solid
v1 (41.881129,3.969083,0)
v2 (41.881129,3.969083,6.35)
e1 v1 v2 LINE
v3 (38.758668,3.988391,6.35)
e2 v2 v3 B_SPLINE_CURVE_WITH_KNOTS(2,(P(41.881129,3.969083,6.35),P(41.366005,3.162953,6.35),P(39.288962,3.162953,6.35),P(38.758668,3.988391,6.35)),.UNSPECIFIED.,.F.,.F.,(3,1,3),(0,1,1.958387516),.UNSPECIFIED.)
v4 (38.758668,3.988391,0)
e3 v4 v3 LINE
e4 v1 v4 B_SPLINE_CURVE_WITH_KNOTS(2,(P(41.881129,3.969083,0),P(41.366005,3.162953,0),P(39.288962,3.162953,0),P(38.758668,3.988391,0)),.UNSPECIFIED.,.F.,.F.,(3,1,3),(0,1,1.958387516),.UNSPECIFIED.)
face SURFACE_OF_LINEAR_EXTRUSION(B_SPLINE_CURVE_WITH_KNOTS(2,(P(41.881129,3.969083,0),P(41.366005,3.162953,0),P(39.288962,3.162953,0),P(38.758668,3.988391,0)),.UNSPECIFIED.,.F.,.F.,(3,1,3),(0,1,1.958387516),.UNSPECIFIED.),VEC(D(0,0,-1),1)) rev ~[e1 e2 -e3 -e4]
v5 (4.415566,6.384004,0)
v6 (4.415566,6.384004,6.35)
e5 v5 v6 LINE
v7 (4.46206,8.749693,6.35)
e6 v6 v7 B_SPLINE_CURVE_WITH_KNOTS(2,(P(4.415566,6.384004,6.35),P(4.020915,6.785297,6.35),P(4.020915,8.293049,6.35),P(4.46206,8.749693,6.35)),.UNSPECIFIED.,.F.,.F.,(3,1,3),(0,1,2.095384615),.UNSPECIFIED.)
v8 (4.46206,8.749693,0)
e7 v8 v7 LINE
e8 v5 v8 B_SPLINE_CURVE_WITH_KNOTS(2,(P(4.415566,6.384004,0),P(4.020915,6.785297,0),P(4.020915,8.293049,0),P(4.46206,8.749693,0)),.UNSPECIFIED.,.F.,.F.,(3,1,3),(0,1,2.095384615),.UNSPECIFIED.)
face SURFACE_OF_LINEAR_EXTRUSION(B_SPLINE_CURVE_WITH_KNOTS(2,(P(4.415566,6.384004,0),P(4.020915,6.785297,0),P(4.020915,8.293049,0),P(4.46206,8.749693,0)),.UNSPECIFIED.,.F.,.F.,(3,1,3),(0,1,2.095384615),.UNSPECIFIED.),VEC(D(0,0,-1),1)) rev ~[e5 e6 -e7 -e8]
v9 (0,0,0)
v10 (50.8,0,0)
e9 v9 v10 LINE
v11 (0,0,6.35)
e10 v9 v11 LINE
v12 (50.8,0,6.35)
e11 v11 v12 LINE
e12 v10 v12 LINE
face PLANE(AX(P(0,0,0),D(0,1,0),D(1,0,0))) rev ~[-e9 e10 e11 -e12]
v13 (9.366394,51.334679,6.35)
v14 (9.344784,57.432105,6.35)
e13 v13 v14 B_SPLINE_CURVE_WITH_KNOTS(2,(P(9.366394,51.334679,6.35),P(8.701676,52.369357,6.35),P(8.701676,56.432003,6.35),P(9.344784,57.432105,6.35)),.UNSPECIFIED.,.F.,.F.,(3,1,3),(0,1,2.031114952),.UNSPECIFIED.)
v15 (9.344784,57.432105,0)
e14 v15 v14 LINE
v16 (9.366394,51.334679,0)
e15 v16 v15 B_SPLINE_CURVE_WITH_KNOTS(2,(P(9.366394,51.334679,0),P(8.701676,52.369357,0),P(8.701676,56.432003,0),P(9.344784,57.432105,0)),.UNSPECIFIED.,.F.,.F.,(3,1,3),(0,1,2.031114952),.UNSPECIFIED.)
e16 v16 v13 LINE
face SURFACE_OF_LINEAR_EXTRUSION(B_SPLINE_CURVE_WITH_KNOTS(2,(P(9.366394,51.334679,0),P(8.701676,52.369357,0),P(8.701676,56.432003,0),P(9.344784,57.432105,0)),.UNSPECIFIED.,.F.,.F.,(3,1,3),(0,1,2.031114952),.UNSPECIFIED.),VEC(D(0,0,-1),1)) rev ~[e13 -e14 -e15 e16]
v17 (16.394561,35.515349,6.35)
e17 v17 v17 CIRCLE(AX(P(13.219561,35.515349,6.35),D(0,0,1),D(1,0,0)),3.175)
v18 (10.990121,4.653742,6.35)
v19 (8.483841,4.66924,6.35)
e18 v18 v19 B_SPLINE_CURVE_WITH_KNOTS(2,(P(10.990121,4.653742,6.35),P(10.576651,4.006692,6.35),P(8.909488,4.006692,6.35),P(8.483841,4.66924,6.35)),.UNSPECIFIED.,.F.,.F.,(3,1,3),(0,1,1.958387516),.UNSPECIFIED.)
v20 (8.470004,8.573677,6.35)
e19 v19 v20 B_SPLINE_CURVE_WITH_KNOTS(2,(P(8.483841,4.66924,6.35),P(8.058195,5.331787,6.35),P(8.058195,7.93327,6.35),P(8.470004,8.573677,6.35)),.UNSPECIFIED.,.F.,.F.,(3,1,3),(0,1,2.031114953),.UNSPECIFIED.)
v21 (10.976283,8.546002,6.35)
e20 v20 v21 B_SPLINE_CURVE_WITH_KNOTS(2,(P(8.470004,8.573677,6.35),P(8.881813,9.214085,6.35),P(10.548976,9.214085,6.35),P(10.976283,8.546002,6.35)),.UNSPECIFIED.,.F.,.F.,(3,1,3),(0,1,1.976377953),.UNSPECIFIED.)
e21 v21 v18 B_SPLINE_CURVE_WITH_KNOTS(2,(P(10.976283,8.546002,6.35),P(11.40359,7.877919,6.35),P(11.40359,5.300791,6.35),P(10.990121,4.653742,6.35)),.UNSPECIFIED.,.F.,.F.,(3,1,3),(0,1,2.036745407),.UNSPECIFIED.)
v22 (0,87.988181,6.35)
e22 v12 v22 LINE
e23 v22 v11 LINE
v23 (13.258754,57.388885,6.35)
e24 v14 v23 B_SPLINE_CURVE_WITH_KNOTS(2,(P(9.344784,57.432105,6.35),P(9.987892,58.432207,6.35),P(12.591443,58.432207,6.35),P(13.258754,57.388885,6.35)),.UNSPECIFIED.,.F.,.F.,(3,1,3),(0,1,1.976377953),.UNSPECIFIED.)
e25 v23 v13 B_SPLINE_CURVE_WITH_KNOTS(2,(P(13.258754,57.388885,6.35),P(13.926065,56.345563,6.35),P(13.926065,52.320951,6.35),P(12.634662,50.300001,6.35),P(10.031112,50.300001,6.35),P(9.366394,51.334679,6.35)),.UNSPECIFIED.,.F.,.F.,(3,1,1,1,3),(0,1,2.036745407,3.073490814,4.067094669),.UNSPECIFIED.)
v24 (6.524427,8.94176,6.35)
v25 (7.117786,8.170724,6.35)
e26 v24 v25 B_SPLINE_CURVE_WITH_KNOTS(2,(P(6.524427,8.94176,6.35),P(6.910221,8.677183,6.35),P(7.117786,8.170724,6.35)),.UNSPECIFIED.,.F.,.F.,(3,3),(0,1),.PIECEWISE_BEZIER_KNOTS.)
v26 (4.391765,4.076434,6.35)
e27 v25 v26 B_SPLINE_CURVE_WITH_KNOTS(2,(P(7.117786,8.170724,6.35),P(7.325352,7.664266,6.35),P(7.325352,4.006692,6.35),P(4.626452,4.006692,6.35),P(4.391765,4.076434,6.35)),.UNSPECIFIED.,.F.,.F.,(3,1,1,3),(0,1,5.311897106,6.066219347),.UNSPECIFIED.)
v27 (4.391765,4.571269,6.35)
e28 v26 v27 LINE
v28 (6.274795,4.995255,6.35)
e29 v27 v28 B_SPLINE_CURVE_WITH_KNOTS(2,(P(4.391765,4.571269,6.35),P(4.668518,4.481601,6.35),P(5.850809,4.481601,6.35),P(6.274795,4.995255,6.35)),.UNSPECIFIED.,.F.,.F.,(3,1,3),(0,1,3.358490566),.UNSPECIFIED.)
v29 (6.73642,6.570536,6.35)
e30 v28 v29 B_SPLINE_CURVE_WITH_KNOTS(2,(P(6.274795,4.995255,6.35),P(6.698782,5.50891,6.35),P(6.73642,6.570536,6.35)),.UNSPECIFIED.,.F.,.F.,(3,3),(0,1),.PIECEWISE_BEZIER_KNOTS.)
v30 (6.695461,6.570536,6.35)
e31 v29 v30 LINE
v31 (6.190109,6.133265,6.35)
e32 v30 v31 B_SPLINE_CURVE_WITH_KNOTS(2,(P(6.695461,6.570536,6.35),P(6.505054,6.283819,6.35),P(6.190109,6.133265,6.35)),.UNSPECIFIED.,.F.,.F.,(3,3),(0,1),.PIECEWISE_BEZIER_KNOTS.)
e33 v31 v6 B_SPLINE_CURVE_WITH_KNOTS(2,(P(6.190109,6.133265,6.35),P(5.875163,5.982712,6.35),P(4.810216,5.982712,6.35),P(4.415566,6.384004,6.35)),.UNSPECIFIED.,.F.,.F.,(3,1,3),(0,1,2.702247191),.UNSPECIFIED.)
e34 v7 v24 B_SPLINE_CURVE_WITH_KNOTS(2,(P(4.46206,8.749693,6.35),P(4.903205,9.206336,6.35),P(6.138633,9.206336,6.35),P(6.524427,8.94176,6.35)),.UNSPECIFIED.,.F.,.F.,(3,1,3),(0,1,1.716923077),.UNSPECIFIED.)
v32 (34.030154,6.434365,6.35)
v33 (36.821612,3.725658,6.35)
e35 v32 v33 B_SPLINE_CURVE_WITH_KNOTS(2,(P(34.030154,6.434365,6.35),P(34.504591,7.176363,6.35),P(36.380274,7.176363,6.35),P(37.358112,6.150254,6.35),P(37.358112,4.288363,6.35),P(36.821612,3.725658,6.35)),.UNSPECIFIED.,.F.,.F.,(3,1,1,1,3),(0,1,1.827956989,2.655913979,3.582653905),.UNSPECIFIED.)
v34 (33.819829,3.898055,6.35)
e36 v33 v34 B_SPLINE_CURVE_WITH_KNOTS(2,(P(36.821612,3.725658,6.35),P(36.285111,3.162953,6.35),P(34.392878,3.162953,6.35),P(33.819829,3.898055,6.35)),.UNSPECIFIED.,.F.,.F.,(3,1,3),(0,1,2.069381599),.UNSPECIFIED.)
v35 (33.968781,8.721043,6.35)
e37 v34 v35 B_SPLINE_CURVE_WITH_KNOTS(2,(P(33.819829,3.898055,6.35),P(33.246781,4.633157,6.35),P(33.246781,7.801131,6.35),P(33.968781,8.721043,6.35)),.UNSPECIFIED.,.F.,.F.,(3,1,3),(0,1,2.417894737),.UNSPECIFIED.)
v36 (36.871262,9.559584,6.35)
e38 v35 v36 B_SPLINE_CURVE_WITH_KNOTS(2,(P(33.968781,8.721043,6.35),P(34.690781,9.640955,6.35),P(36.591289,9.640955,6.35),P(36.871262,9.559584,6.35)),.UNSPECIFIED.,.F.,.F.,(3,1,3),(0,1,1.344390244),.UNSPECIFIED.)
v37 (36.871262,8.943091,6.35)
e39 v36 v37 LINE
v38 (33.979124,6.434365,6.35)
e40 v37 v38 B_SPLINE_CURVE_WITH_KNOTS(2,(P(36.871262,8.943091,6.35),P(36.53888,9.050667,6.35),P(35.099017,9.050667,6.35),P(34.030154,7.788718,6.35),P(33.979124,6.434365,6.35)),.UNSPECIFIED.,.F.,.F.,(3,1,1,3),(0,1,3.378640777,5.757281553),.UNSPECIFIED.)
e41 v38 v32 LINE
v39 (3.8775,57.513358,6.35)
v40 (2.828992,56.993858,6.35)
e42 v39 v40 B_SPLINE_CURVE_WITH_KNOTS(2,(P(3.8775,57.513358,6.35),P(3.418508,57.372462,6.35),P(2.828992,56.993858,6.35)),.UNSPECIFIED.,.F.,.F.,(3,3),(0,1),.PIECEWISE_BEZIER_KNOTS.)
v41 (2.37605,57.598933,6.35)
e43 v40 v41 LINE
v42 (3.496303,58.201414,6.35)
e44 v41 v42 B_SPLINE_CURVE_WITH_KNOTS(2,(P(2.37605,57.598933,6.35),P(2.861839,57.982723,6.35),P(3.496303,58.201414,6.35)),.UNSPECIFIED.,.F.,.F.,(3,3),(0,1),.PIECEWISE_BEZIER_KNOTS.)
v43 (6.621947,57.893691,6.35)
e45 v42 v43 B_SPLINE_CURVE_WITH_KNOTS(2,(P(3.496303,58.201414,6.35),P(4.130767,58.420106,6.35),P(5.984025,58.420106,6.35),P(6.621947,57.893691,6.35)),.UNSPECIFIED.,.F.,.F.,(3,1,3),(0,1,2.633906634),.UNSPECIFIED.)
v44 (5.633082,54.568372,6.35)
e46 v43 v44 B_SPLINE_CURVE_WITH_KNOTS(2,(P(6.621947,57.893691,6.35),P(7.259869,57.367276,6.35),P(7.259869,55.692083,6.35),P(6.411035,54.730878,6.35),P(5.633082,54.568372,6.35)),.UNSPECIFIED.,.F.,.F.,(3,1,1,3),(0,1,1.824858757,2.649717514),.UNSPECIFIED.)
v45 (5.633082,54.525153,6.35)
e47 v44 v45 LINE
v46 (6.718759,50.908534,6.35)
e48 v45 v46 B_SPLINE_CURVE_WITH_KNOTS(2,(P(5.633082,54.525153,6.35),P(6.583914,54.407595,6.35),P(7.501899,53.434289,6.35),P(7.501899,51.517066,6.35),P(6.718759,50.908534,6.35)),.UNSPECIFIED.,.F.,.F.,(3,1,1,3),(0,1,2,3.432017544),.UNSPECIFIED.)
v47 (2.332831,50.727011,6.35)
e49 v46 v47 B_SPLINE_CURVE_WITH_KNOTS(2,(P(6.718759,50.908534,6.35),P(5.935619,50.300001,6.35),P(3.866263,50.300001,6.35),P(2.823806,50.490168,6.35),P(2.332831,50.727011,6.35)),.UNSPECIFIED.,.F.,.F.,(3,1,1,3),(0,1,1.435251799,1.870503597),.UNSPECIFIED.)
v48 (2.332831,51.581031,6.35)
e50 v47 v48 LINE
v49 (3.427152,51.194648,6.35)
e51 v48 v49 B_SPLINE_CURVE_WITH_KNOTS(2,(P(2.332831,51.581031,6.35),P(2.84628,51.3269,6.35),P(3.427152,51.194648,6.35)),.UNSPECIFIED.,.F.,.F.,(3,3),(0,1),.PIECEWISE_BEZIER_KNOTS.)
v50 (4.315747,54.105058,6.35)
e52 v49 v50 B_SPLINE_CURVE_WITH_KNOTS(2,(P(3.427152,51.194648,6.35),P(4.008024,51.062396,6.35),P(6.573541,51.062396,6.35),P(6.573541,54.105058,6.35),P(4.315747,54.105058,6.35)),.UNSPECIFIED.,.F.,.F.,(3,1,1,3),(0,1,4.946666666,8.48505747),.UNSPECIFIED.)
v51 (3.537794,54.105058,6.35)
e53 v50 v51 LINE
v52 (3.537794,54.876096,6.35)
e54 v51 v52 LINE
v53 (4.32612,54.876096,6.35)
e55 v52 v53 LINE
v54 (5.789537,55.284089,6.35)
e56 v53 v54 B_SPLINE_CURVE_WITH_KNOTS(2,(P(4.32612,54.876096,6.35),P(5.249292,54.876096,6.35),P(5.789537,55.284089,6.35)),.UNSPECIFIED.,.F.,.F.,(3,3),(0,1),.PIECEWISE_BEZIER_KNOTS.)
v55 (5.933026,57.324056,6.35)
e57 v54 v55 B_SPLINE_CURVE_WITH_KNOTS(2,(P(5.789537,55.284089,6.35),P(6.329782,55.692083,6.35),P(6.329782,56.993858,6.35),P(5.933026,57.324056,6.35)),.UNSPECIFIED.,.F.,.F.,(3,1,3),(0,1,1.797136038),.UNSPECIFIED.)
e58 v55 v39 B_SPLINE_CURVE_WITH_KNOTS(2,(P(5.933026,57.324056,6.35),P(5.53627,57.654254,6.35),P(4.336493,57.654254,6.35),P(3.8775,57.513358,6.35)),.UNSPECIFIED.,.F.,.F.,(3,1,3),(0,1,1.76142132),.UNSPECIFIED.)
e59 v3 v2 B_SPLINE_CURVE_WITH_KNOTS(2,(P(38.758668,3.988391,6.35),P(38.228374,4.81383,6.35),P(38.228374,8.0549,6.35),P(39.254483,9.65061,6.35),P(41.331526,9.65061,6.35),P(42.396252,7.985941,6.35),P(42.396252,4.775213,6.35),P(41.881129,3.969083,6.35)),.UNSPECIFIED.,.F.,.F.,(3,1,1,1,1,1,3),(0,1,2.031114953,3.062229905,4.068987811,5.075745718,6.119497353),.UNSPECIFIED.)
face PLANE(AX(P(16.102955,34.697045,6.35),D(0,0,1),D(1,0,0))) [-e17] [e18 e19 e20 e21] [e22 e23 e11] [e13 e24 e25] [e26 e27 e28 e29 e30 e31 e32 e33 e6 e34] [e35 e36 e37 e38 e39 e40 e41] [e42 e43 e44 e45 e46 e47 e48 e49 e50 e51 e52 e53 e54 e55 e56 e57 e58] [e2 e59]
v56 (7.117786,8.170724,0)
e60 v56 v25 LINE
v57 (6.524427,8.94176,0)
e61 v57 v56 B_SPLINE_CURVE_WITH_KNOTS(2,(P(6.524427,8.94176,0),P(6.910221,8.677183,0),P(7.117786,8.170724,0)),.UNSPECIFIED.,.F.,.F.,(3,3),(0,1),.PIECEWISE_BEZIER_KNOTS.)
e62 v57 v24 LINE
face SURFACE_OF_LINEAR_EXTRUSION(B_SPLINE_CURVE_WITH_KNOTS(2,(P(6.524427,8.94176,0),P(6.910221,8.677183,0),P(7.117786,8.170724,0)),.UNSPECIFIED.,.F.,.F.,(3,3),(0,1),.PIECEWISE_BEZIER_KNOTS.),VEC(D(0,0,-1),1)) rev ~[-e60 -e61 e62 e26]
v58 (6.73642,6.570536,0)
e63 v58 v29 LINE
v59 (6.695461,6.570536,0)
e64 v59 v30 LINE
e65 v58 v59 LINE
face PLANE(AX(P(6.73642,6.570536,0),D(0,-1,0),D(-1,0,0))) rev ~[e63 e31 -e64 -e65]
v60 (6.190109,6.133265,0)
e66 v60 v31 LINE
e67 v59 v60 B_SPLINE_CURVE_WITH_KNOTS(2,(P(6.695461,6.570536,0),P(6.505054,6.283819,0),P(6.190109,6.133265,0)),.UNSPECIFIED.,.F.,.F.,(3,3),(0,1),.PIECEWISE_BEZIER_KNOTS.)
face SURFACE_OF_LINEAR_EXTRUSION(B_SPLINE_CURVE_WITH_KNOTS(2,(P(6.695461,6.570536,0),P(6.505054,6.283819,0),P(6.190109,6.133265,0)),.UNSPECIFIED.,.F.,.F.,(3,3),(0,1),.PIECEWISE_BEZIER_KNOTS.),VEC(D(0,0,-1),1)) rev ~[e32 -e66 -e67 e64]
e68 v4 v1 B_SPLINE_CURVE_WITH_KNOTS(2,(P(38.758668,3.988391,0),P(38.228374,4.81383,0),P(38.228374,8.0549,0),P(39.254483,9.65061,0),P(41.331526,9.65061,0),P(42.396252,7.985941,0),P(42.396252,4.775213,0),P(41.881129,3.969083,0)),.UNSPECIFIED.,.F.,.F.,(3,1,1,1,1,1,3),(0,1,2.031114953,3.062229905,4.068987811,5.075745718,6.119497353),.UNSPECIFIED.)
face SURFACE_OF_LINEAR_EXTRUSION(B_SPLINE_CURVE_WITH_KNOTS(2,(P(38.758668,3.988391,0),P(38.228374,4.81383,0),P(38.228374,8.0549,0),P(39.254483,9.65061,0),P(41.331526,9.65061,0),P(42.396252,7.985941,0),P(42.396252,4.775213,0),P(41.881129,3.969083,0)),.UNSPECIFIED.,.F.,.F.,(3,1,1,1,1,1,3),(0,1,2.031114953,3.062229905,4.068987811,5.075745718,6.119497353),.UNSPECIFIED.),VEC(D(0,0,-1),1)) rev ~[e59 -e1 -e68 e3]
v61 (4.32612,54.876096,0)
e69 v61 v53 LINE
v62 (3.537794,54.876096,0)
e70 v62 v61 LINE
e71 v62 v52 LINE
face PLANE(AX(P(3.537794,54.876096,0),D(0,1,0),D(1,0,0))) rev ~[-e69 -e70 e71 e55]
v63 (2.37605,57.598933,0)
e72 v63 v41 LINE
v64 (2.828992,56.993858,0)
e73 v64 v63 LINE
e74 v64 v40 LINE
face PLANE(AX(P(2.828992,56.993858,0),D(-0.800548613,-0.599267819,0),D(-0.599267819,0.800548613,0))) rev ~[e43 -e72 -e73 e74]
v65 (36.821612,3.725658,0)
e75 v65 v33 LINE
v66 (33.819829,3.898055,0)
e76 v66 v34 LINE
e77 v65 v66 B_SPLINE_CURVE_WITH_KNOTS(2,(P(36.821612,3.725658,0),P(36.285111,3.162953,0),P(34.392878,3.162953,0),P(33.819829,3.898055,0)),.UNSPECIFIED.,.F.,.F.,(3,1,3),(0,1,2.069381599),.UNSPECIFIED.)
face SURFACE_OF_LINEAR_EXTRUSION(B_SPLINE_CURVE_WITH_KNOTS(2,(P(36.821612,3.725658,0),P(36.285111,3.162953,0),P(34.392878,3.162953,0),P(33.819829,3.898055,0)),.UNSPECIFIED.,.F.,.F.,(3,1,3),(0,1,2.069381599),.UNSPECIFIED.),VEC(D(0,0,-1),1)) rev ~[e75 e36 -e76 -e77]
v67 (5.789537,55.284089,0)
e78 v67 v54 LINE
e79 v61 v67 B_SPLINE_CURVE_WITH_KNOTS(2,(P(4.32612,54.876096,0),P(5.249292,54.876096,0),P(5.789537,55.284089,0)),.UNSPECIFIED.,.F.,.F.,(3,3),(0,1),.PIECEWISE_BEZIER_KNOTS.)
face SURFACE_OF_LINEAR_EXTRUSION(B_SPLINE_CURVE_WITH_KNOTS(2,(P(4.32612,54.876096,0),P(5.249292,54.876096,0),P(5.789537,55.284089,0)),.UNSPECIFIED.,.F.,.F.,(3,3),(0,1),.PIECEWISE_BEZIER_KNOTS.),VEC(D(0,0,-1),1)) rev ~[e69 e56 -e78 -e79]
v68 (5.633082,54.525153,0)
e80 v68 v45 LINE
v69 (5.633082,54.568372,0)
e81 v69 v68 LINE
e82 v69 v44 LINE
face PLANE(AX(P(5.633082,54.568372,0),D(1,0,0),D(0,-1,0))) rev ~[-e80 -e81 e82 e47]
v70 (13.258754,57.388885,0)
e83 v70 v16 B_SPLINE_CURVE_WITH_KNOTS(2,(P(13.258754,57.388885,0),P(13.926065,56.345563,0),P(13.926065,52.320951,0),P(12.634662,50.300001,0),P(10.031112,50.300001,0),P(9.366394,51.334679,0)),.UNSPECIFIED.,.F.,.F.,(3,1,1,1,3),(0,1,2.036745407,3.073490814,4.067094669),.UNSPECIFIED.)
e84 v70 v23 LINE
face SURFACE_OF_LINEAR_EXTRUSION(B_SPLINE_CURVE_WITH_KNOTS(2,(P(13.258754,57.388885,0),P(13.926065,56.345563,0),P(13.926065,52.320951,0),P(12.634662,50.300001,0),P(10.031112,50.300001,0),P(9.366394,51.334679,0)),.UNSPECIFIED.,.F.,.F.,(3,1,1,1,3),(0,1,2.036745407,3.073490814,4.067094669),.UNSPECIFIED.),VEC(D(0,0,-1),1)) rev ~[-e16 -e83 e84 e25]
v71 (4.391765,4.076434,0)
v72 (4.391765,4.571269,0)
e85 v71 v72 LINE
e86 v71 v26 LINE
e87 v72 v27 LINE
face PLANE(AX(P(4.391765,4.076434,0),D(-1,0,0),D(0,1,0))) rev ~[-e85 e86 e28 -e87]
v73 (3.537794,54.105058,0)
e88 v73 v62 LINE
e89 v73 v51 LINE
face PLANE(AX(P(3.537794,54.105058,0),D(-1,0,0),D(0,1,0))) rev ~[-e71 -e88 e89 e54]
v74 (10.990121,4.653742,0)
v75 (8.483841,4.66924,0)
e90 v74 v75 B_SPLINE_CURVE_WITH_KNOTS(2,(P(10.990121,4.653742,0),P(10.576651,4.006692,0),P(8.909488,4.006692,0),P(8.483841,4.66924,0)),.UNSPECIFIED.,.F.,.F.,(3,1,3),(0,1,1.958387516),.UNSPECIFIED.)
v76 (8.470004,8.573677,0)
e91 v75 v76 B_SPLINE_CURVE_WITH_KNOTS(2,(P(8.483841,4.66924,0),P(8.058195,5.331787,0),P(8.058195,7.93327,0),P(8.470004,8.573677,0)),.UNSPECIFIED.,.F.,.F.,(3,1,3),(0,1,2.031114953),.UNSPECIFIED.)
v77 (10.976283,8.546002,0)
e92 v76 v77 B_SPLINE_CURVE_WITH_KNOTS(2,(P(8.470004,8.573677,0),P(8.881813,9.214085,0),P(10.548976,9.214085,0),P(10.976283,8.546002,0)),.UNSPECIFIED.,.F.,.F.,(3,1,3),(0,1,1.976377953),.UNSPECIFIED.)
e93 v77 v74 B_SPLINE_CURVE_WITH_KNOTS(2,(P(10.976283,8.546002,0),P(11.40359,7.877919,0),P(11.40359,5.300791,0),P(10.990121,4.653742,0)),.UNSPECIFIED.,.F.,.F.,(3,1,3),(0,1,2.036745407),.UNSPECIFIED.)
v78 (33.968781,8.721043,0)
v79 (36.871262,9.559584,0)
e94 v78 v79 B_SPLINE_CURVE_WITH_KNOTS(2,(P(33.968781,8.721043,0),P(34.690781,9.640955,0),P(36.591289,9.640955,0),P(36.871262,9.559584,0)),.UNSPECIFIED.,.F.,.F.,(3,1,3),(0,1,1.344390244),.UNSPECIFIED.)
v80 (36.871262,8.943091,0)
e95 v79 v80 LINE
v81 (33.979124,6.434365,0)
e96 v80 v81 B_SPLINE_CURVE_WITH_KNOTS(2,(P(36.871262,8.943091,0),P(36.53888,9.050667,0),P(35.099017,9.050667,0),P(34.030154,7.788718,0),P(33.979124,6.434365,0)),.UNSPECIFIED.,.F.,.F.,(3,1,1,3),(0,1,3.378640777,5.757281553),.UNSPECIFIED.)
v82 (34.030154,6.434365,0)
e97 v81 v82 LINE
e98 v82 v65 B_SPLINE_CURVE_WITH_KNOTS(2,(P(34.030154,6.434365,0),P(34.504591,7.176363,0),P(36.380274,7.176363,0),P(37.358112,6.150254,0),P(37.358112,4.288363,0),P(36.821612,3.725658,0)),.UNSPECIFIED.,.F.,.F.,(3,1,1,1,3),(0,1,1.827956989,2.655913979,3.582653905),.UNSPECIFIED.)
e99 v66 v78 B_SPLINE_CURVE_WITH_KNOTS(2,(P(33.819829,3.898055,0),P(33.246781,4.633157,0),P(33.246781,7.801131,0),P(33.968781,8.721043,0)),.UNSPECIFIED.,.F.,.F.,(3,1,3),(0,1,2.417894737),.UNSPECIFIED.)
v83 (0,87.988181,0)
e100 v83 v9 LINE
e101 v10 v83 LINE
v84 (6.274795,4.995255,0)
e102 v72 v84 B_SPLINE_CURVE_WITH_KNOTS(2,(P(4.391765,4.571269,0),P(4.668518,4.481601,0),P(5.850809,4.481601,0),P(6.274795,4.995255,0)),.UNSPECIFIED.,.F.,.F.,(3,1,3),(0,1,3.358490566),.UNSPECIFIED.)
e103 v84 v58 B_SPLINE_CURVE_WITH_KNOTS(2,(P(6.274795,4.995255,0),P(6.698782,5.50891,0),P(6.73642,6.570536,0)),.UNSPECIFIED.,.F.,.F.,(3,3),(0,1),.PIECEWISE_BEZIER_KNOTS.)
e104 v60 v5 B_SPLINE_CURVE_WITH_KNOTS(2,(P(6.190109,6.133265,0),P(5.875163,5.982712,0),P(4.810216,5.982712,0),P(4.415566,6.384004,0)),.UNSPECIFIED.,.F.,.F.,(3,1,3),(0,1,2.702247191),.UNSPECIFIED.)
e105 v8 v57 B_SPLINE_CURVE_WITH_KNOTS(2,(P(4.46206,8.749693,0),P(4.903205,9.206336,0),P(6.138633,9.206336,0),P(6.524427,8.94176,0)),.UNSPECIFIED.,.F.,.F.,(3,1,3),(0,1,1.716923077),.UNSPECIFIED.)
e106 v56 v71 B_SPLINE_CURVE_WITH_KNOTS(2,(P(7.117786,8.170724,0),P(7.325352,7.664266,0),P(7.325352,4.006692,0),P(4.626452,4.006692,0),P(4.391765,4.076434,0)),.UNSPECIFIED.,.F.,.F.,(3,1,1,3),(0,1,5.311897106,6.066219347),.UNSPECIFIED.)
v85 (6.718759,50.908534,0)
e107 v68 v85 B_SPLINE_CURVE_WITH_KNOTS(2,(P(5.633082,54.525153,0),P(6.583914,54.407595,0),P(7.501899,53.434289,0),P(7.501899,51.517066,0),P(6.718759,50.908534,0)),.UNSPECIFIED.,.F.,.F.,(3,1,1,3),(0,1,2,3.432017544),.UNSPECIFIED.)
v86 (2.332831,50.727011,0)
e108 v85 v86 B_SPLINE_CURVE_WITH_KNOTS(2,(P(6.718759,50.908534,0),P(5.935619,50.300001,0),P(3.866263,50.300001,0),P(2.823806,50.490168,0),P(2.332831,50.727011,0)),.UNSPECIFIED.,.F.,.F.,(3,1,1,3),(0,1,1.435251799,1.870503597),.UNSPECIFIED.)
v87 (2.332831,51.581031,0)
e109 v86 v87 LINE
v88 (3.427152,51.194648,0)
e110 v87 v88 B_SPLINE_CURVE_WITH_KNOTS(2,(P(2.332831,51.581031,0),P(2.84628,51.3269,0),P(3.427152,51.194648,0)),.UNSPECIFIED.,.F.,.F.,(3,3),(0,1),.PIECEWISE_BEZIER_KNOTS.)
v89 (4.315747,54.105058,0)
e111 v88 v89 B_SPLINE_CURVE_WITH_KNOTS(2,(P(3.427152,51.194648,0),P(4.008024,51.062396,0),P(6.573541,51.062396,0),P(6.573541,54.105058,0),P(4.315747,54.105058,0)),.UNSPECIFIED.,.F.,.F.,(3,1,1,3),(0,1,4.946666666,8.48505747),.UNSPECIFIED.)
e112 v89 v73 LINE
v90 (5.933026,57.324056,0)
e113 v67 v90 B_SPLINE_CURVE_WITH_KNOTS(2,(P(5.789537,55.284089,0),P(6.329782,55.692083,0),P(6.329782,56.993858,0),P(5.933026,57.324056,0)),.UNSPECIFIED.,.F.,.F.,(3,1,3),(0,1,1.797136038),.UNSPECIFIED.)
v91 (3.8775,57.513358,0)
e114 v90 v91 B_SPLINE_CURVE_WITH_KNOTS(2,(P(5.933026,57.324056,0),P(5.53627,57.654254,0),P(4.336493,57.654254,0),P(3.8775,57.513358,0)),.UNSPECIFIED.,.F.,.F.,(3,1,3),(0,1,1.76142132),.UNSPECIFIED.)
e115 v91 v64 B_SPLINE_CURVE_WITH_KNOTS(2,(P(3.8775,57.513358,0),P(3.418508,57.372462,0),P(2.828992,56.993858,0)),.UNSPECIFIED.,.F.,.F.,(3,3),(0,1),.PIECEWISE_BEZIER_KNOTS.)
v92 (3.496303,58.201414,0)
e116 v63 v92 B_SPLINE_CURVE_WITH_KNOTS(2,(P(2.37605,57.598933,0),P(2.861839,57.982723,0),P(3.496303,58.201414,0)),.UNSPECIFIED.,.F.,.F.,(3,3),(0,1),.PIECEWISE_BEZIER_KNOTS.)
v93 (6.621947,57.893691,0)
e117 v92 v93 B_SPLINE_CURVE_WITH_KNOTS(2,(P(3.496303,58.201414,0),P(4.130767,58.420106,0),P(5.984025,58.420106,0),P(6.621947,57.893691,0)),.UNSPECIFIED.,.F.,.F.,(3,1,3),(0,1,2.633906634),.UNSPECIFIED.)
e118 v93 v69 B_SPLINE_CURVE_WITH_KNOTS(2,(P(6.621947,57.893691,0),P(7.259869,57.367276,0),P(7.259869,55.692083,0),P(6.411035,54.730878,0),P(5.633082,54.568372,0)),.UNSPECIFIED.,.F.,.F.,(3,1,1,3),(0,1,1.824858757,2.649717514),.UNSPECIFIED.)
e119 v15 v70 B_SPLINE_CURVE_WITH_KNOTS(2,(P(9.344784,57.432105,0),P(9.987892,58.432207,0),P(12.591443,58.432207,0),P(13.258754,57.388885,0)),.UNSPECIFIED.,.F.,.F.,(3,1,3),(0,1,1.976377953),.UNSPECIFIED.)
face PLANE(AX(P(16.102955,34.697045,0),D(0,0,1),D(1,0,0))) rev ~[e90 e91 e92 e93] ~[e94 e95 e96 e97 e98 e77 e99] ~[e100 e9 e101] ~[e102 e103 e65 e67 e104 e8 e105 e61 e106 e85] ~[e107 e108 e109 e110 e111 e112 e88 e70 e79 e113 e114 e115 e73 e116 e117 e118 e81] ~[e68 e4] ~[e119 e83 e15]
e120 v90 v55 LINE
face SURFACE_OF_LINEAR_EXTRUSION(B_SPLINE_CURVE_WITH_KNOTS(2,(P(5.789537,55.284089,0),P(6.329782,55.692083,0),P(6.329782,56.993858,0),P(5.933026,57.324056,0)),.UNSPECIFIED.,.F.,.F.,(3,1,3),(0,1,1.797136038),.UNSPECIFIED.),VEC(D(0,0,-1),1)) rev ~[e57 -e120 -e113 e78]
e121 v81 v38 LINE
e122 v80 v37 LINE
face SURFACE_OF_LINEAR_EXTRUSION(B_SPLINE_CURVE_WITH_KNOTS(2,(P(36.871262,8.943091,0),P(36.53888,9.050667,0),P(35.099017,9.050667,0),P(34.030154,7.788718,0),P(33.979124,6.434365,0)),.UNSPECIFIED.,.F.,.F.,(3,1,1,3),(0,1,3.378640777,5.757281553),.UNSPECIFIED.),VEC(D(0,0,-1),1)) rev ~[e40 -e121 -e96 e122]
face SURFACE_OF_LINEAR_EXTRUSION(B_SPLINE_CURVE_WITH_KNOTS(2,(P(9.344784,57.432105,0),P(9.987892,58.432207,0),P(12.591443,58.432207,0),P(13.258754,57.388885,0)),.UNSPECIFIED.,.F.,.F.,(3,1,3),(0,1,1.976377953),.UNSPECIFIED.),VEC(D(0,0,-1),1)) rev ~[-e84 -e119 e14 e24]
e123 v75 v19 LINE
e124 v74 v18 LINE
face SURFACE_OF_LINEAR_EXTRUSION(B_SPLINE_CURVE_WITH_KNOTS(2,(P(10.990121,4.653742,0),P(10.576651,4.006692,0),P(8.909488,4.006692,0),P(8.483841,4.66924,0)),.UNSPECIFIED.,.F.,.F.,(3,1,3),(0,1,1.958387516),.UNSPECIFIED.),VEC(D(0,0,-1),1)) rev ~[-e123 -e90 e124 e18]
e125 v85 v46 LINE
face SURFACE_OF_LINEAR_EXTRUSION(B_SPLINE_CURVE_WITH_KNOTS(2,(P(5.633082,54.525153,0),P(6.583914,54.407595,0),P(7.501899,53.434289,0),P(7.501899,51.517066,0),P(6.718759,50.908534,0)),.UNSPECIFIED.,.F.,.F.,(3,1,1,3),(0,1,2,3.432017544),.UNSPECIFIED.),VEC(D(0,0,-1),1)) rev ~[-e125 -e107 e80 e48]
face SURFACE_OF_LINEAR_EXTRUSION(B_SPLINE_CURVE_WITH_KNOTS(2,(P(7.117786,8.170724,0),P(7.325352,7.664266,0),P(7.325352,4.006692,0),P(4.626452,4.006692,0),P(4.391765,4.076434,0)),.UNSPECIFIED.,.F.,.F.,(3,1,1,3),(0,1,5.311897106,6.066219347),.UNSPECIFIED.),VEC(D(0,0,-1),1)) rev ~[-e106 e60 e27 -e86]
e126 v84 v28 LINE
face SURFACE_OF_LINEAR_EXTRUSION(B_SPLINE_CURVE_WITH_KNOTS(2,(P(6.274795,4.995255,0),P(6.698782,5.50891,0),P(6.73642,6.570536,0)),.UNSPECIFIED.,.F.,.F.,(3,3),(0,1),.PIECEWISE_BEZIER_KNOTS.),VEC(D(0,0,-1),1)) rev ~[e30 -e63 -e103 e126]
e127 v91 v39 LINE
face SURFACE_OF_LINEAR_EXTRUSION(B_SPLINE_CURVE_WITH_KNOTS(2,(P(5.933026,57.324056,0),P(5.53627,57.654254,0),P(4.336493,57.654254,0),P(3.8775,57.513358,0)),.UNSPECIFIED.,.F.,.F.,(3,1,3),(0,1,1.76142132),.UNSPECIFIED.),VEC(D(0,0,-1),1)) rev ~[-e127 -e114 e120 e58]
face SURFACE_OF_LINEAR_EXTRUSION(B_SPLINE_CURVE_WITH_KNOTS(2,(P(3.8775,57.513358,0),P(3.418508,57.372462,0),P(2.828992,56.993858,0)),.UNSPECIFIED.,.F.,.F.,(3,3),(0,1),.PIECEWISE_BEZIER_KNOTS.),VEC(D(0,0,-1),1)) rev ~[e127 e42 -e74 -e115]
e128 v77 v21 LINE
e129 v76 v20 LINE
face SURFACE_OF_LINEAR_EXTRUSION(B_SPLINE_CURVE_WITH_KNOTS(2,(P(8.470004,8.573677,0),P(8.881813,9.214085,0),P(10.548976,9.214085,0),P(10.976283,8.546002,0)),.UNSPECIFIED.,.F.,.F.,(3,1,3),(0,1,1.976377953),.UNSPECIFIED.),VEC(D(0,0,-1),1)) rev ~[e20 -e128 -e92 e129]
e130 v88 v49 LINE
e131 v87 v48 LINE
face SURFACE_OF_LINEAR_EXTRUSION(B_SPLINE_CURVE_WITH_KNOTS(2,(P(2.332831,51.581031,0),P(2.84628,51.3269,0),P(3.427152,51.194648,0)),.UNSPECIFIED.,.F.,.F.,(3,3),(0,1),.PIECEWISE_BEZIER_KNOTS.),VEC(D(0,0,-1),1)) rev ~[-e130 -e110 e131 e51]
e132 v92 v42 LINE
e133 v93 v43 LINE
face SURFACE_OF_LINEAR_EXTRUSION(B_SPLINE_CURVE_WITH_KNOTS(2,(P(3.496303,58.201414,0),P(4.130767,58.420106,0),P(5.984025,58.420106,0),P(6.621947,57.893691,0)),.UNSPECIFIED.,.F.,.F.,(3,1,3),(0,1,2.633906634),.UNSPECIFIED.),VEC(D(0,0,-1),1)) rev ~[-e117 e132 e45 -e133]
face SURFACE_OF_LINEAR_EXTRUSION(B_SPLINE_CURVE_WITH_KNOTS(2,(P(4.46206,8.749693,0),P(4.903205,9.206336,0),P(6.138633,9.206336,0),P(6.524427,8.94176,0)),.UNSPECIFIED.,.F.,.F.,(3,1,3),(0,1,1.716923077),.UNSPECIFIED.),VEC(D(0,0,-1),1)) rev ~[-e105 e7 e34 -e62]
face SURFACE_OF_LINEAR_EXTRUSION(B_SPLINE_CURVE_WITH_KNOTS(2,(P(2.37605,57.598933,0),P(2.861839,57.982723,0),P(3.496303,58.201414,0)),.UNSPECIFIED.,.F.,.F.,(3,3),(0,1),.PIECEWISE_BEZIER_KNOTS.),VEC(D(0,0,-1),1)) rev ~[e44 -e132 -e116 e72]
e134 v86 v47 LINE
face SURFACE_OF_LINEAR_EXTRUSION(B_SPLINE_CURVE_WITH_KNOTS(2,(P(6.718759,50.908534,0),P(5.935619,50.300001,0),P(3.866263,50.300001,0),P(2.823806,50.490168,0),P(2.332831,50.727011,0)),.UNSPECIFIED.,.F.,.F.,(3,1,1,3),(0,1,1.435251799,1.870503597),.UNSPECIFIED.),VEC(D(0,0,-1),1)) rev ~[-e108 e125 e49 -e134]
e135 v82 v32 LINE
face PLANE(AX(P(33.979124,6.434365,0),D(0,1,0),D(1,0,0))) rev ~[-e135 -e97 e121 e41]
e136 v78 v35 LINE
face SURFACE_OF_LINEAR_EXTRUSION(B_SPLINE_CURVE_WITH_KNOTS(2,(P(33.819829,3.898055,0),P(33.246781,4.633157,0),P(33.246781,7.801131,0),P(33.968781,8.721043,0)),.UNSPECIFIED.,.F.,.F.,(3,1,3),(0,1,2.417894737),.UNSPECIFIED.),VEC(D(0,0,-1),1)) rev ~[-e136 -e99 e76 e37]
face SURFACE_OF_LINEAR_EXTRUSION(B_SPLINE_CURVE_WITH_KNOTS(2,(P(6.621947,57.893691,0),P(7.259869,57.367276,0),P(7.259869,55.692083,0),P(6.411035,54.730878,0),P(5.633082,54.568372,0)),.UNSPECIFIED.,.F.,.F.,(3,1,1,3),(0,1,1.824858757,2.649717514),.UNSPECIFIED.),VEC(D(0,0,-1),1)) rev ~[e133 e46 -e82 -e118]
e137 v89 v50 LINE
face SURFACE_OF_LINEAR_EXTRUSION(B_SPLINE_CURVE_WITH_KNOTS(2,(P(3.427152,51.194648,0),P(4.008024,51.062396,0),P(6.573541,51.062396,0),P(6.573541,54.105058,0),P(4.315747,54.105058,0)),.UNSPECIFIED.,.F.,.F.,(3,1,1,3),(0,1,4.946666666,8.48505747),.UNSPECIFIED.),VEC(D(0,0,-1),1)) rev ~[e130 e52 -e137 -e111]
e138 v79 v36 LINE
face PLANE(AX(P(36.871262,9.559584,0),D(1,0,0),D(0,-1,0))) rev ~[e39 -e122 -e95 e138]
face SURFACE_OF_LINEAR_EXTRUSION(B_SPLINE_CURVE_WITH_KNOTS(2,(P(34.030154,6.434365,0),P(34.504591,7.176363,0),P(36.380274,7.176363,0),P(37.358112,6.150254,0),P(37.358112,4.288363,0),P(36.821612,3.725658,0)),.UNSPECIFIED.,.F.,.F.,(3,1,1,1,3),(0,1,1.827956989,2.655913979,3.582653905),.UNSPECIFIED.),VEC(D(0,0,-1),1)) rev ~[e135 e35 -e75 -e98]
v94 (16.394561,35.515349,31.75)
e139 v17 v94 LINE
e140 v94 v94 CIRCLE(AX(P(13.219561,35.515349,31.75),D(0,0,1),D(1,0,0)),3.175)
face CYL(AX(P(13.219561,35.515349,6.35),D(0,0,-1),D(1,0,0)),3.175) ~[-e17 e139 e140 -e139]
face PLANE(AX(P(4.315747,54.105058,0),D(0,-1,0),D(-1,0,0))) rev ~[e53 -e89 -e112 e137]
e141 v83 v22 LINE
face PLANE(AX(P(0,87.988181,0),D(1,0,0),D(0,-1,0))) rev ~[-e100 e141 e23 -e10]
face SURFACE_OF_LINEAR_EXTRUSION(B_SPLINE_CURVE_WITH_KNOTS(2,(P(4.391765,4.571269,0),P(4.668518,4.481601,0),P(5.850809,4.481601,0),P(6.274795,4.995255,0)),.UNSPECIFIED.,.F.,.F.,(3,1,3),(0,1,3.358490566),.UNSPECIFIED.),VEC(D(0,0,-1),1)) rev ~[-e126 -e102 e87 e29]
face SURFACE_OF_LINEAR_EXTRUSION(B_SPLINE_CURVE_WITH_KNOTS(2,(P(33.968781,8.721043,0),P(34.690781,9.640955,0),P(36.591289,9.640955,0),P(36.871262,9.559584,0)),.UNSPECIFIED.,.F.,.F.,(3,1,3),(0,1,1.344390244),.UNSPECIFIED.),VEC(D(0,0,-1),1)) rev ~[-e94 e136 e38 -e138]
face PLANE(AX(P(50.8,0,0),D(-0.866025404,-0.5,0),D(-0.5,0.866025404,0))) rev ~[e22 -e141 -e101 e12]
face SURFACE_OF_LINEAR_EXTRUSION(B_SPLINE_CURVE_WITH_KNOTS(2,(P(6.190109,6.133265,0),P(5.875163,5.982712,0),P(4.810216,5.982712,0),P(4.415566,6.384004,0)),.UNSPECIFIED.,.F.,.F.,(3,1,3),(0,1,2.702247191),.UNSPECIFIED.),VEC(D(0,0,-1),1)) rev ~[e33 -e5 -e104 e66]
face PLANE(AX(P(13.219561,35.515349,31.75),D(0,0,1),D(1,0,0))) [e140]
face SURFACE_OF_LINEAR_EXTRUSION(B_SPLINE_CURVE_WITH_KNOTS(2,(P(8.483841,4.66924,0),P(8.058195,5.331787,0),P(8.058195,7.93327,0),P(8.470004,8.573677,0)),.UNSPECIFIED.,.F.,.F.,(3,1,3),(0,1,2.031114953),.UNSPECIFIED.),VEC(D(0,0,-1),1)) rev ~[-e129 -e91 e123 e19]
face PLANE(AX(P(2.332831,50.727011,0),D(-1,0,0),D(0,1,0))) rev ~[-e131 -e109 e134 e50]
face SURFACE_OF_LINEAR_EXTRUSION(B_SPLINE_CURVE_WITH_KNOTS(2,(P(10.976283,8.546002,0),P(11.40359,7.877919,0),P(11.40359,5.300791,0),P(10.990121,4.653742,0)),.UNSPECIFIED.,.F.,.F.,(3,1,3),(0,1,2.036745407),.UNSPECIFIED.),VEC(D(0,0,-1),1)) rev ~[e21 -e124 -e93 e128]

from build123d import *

# Parameters (mm, degrees)
F1_DEPTH = 6.35
F2_R     = 3.175
F3_DEPTH = 25.4


with BuildPart() as f1:
    # F0 (on Top) → F1 (new body)
    with BuildSketch(Plane.XY):
        Polygon((0, 87.9881810245), (0, 0), (50.8, 0), align=None)
        with BuildLine():
            add(Edge.make_bspline(
                [(7.1177864202, 8.1707244078), (7.3253515095, 7.66426559), (7.3253515095, 6.9757030005)],
                knots=[0, 0, 0, 1, 1, 1], degree=2))
            add(Edge.make_bspline(
                [(7.3253515095, 6.9757030005), (7.3253515095, 4.0066919637), (5.028297855, 4.0066919637)],
                knots=[0, 0, 0, 1, 1, 1], degree=2))
            add(Edge.make_bspline(
                [(5.028297855, 4.0066919637), (4.6264518421, 4.0066919637), (4.3917649145, 4.0764338337)],
                knots=[0, 0, 0, 1, 1, 1], degree=2))
            Line((4.3917649145, 4.0764338337), (4.3917649145, 4.5712690065))
            add(Edge.make_bspline(
                [(4.3917649145, 4.5712690065), (4.6685183669, 4.4816008879), (5.0205487583, 4.4816008879)],
                knots=[0, 0, 0, 1, 1, 1], degree=2))
            add(Edge.make_bspline(
                [(5.0205487583, 4.4816008879), (5.8508091153, 4.4816008879), (6.2747954044, 4.9952552955)],
                knots=[0, 0, 0, 1, 1, 1], degree=2))
            add(Edge.make_bspline(
                [(6.2747954044, 4.9952552955), (6.6987816934, 5.5089097031), (6.7364201629, 6.5705359463)],
                knots=[0, 0, 0, 1, 1, 1], degree=2))
            Line((6.7364201629, 6.5705359463), (6.6954606519, 6.5705359463))
            add(Edge.make_bspline(
                [(6.6954606519, 6.5705359463), (6.5050542767, 6.2838193697), (6.1901088479, 6.1332654916)],
                knots=[0, 0, 0, 1, 1, 1], degree=2))
            add(Edge.make_bspline(
                [(6.1901088479, 6.1332654916), (5.8751634192, 5.9827116135), (5.481066503, 5.9827116135)],
                knots=[0, 0, 0, 1, 1, 1], degree=2))
            add(Edge.make_bspline(
                [(5.481066503, 5.9827116135), (4.8102161345, 5.9827116135), (4.4155657114, 6.3840041194)],
                knots=[0, 0, 0, 1, 1, 1], degree=2))
            add(Edge.make_bspline(
                [(4.4155657114, 6.3840041194), (4.0209152884, 6.7852966253), (4.0209152884, 7.5048556014)],
                knots=[0, 0, 0, 1, 1, 1], degree=2))
            add(Edge.make_bspline(
                [(4.0209152884, 7.5048556014), (4.0209152884, 8.2930494337), (4.4620602914, 8.7496926301)],
                knots=[0, 0, 0, 1, 1, 1], degree=2))
            add(Edge.make_bspline(
                [(4.4620602914, 8.7496926301), (4.9032052945, 9.2063358265), (5.6227642706, 9.2063358265)],
                knots=[0, 0, 0, 1, 1, 1], degree=2))
            add(Edge.make_bspline(
                [(5.6227642706, 9.2063358265), (6.1386327058, 9.2063358265), (6.5244270184, 8.941759526)],
                knots=[0, 0, 0, 1, 1, 1], degree=2))
            add(Edge.make_bspline(
                [(6.5244270184, 8.941759526), (6.910221331, 8.6771832256), (7.1177864202, 8.1707244078)],
                knots=[0, 0, 0, 1, 1, 1], degree=2))
        make_face(mode=Mode.SUBTRACT)
        with BuildLine():
            add(Edge.make_bspline(
                [(10.9762830529, 8.5460020892), (11.4035903834, 7.8779192552), (11.4035903834, 6.612602471)],
                knots=[0, 0, 0, 1, 1, 1], degree=2))
            add(Edge.make_bspline(
                [(11.4035903834, 6.612602471), (11.4035903834, 5.3007911069), (10.9901207255, 4.6537415353)],
                knots=[0, 0, 0, 1, 1, 1], degree=2))
            add(Edge.make_bspline(
                [(10.9901207255, 4.6537415353), (10.5766510677, 4.0066919637), (9.7253574483, 4.0066919637)],
                knots=[0, 0, 0, 1, 1, 1], degree=2))
            add(Edge.make_bspline(
                [(9.7253574483, 4.0066919637), (8.9094882707, 4.0066919637), (8.483841461, 4.6692397286)],
                knots=[0, 0, 0, 1, 1, 1], degree=2))
            add(Edge.make_bspline(
                [(8.483841461, 4.6692397286), (8.0581946513, 5.3317874936), (8.0581946513, 6.612602471)],
                knots=[0, 0, 0, 1, 1, 1], degree=2))
            add(Edge.make_bspline(
                [(8.0581946513, 6.612602471), (8.0581946513, 7.9332699457), (8.4700037884, 8.5736774344)],
                knots=[0, 0, 0, 1, 1, 1], degree=2))
            add(Edge.make_bspline(
                [(8.4700037884, 8.5736774344), (8.8818129255, 9.2140849232), (9.7253574483, 9.2140849232)],
                knots=[0, 0, 0, 1, 1, 1], degree=2))
            add(Edge.make_bspline(
                [(9.7253574483, 9.2140849232), (10.5489757225, 9.2140849232), (10.9762830529, 8.5460020892)],
                knots=[0, 0, 0, 1, 1, 1], degree=2))
        make_face(mode=Mode.SUBTRACT)
        with BuildLine():
            add(Edge.make_bspline(
                [(33.8198292579, 3.8980552581), (33.2467805147, 4.6331574968), (33.2467805147, 5.9433772467)],
                knots=[0, 0, 0, 1, 1, 1], degree=2))
            add(Edge.make_bspline(
                [(33.2467805147, 5.9433772467), (33.2467805147, 7.8011309342), (33.9687805558, 8.7210431166)],
                knots=[0, 0, 0, 1, 1, 1], degree=2))
            add(Edge.make_bspline(
                [(33.9687805558, 8.7210431166), (34.690780597, 9.6409552989), (36.1044387482, 9.6409552989)],
                knots=[0, 0, 0, 1, 1, 1], degree=2))
            add(Edge.make_bspline(
                [(36.1044387482, 9.6409552989), (36.5912888237, 9.6409552989), (36.8712620966, 9.5595837565)],
                knots=[0, 0, 0, 1, 1, 1], degree=2))
            Line((36.8712620966, 9.5595837565), (36.8712620966, 8.9430908847))
            add(Edge.make_bspline(
                [(36.8712620966, 8.9430908847), (36.5388800337, 9.0506668221), (36.1127138203, 9.0506668221)],
                knots=[0, 0, 0, 1, 1, 1], degree=2))
            add(Edge.make_bspline(
                [(36.1127138203, 9.0506668221), (35.0990174875, 9.0506668221), (34.5645857474, 8.4196925741)],
                knots=[0, 0, 0, 1, 1, 1], degree=2))
            add(Edge.make_bspline(
                [(34.5645857474, 8.4196925741), (34.0301540073, 7.7887183261), (33.979124396, 6.4343648583)],
                knots=[0, 0, 0, 1, 1, 1], degree=2))
            Line((33.979124396, 6.4343648583), (34.0301540073, 6.4343648583))
            add(Edge.make_bspline(
                [(34.0301540073, 6.4343648583), (34.5045914746, 7.1763629903), (35.5307004156, 7.1763629903)],
                knots=[0, 0, 0, 1, 1, 1], degree=2))
            add(Edge.make_bspline(
                [(35.5307004156, 7.1763629903), (36.3802744851, 7.1763629903), (36.8691933286, 6.6633085198)],
                knots=[0, 0, 0, 1, 1, 1], degree=2))
            add(Edge.make_bspline(
                [(36.8691933286, 6.6633085198), (37.3581121721, 6.1502540493), (37.3581121721, 5.2717172275)],
                knots=[0, 0, 0, 1, 1, 1], degree=2))
            add(Edge.make_bspline(
                [(37.3581121721, 5.2717172275), (37.3581121721, 4.2883628257), (36.821611664, 3.7256579226)],
                knots=[0, 0, 0, 1, 1, 1], degree=2))
            add(Edge.make_bspline(
                [(36.821611664, 3.7256579226), (36.2851111558, 3.1629530195), (35.3707156883, 3.1629530195)],
                knots=[0, 0, 0, 1, 1, 1], degree=2))
            add(Edge.make_bspline(
                [(35.3707156883, 3.1629530195), (34.3928780012, 3.1629530195), (33.8198292579, 3.8980552581)],
                knots=[0, 0, 0, 1, 1, 1], degree=2))
        make_face(mode=Mode.SUBTRACT)
        with BuildLine():
            add(Edge.make_bspline(
                [(41.8638889332, 8.8182752138), (42.3962519053, 7.9859408779), (42.3962519053, 6.4095396419)],
                knots=[0, 0, 0, 1, 1, 1], degree=2))
            add(Edge.make_bspline(
                [(42.3962519053, 6.4095396419), (42.3962519053, 4.7752129012), (41.8811286668, 3.9690829603)],
                knots=[0, 0, 0, 1, 1, 1], degree=2))
            add(Edge.make_bspline(
                [(41.8811286668, 3.9690829603), (41.3660054282, 3.1629530195), (40.3054170201, 3.1629530195)],
                knots=[0, 0, 0, 1, 1, 1], degree=2))
            add(Edge.make_bspline(
                [(40.3054170201, 3.1629530195), (39.2889623299, 3.1629530195), (38.7586681259, 3.9883914619)],
                knots=[0, 0, 0, 1, 1, 1], degree=2))
            add(Edge.make_bspline(
                [(38.7586681259, 3.9883914619), (38.2283739218, 4.8138299044), (38.2283739218, 6.4095396419)],
                knots=[0, 0, 0, 1, 1, 1], degree=2))
            add(Edge.make_bspline(
                [(38.2283739218, 6.4095396419), (38.2283739218, 8.0548998121), (38.7414283923, 8.8527546809)],
                knots=[0, 0, 0, 1, 1, 1], degree=2))
            add(Edge.make_bspline(
                [(38.7414283923, 8.8527546809), (39.2544828628, 9.6506095497), (40.3054170201, 9.6506095497)],
                knots=[0, 0, 0, 1, 1, 1], degree=2))
            add(Edge.make_bspline(
                [(40.3054170201, 9.6506095497), (41.3315259611, 9.6506095497), (41.8638889332, 8.8182752138)],
                knots=[0, 0, 0, 1, 1, 1], degree=2))
        make_face(mode=Mode.SUBTRACT)
        with BuildLine():
            add(Edge.make_bspline(
                [(6.6219470415, 57.8936907057), (7.2598688227, 57.3672755773), (7.2598688227, 56.4492905752)],
                knots=[0, 0, 0, 1, 1, 1], degree=2))
            add(Edge.make_bspline(
                [(7.2598688227, 56.4492905752), (7.2598688227, 55.6920826073), (6.8354520279, 55.2114802898)],
                knots=[0, 0, 0, 1, 1, 1], degree=2))
            add(Edge.make_bspline(
                [(6.8354520279, 55.2114802898), (6.4110352331, 54.7308779723), (5.6330818415, 54.5683721527)],
                knots=[0, 0, 0, 1, 1, 1], degree=2))
            Line((5.6330818415, 54.5683721527), (5.6330818415, 54.5251525198))
            add(Edge.make_bspline(
                [(5.6330818415, 54.5251525198), (6.5839137646, 54.4075951184), (7.0429062657, 53.9209420523)],
                knots=[0, 0, 0, 1, 1, 1], degree=2))
            add(Edge.make_bspline(
                [(7.0429062657, 53.9209420523), (7.5018987668, 53.4342889862), (7.5018987668, 52.6459628826)],
                knots=[0, 0, 0, 1, 1, 1], degree=2))
            add(Edge.make_bspline(
                [(7.5018987668, 52.6459628826), (7.5018987668, 51.517066072), (6.7187590191, 50.9085336412)],
                knots=[0, 0, 0, 1, 1, 1], degree=2))
            add(Edge.make_bspline(
                [(6.7187590191, 50.9085336412), (5.9356192715, 50.3000012104), (4.493812319, 50.3000012104)],
                knots=[0, 0, 0, 1, 1, 1], degree=2))
            add(Edge.make_bspline(
                [(4.493812319, 50.3000012104), (3.8662632497, 50.3000012104), (3.3450344773, 50.3950844027)],
                knots=[0, 0, 0, 1, 1, 1], degree=2))
            add(Edge.make_bspline(
                [(3.3450344773, 50.3950844027), (2.8238057049, 50.490167595), (2.3328306755, 50.7270111832)],
                knots=[0, 0, 0, 1, 1, 1], degree=2))
            Line((2.3328306755, 50.7270111832), (2.3328306755, 51.5810311287))
            add(Edge.make_bspline(
                [(2.3328306755, 51.5810311287), (2.846279914, 51.3268996874), (3.4271517798, 51.1946476108)],
                knots=[0, 0, 0, 1, 1, 1], degree=2))
            add(Edge.make_bspline(
                [(3.4271517798, 51.1946476108), (4.0080236455, 51.0623955342), (4.52665924, 51.0623955342)],
                knots=[0, 0, 0, 1, 1, 1], degree=2))
            add(Edge.make_bspline(
                [(4.52665924, 51.0623955342), (6.5735410527, 51.0623955342), (6.5735410527, 52.6667083064)],
                knots=[0, 0, 0, 1, 1, 1], degree=2))
            add(Edge.make_bspline(
                [(6.5735410527, 52.6667083064), (6.5735410527, 54.1050576883), (4.3157474316, 54.1050576883)],
                knots=[0, 0, 0, 1, 1, 1], degree=2))
            Line((4.3157474316, 54.1050576883), (3.5377940399, 54.1050576883))
            Line((3.5377940399, 54.1050576883), (3.5377940399, 54.8760959387))
            Line((3.5377940399, 54.8760959387), (4.3261201435, 54.8760959387))
            add(Edge.make_bspline(
                [(4.3261201435, 54.8760959387), (5.2492915016, 54.8760959387), (5.7895369124, 55.284089273)],
                knots=[0, 0, 0, 1, 1, 1], degree=2))
            add(Edge.make_bspline(
                [(5.7895369124, 55.284089273), (6.3297823233, 55.6920826073), (6.3297823233, 56.4164436542)],
                knots=[0, 0, 0, 1, 1, 1], degree=2))
            add(Edge.make_bspline(
                [(6.3297823233, 56.4164436542), (6.3297823233, 56.9938579493), (5.9330260936, 57.3240559445)],
                knots=[0, 0, 0, 1, 1, 1], degree=2))
            add(Edge.make_bspline(
                [(5.9330260936, 57.3240559445), (5.5362698638, 57.6542539396), (4.8551284498, 57.6542539396)],
                knots=[0, 0, 0, 1, 1, 1], degree=2))
            add(Edge.make_bspline(
                [(4.8551284498, 57.6542539396), (4.3364928553, 57.6542539396), (3.8775003543, 57.5133579364)],
                knots=[0, 0, 0, 1, 1, 1], degree=2))
            add(Edge.make_bspline(
                [(3.8775003543, 57.5133579364), (3.4185078532, 57.3724619333), (2.8289920608, 56.9938579493)],
                knots=[0, 0, 0, 1, 1, 1], degree=2))
            Line((2.8289920608, 56.9938579493), (2.3760503084, 57.5989328095))
            add(Edge.make_bspline(
                [(2.3760503084, 57.5989328095), (2.8618389818, 57.9827231494), (3.4963031924, 58.2014144917)],
                knots=[0, 0, 0, 1, 1, 1], degree=2))
            add(Edge.make_bspline(
                [(3.4963031924, 58.2014144917), (4.1307674029, 58.4201058341), (4.834383026, 58.4201058341)],
                knots=[0, 0, 0, 1, 1, 1], degree=2))
            add(Edge.make_bspline(
                [(4.834383026, 58.4201058341), (5.9840252604, 58.4201058341), (6.6219470415, 57.8936907057)],
                knots=[0, 0, 0, 1, 1, 1], degree=2))
        make_face(mode=Mode.SUBTRACT)
        with BuildLine():
            add(Edge.make_bspline(
                [(13.2587538651, 57.3888853938), (13.9260649966, 56.3455634563), (13.9260649966, 54.3695618415)],
                knots=[0, 0, 0, 1, 1, 1], degree=2))
            add(Edge.make_bspline(
                [(13.9260649966, 54.3695618415), (13.9260649966, 52.3209512434), (13.2803636815, 51.3104762269)],
                knots=[0, 0, 0, 1, 1, 1], degree=2))
            add(Edge.make_bspline(
                [(13.2803636815, 51.3104762269), (12.6346623664, 50.3000012104), (11.3052264593, 50.3000012104)],
                knots=[0, 0, 0, 1, 1, 1], degree=2))
            add(Edge.make_bspline(
                [(11.3052264593, 50.3000012104), (10.0311116823, 50.3000012104), (9.3663937288, 51.3346792213)],
                knots=[0, 0, 0, 1, 1, 1], degree=2))
            add(Edge.make_bspline(
                [(9.3663937288, 51.3346792213), (8.7016757752, 52.3693572322), (8.7016757752, 54.3695618415)],
                knots=[0, 0, 0, 1, 1, 1], degree=2))
            add(Edge.make_bspline(
                [(8.7016757752, 54.3695618415), (8.7016757752, 56.432002722), (9.3447839123, 57.4321050266)],
                knots=[0, 0, 0, 1, 1, 1], degree=2))
            add(Edge.make_bspline(
                [(9.3447839123, 57.4321050266), (9.9878920494, 58.4322073313), (11.3052264593, 58.4322073313)],
                knots=[0, 0, 0, 1, 1, 1], degree=2))
            add(Edge.make_bspline(
                [(11.3052264593, 58.4322073313), (12.5914427335, 58.4322073313), (13.2587538651, 57.3888853938)],
                knots=[0, 0, 0, 1, 1, 1], degree=2))
        make_face(mode=Mode.SUBTRACT)
    extrude(amount=F1_DEPTH)

    # F2 (on face) → F3 (join)
    with BuildSketch(Plane.XY.offset(6.35)):
        with Locations((13.2195614278, 35.5153493583)):
            Circle(F2_R)
    extrude(amount=F3_DEPTH)


solid = f1.part
